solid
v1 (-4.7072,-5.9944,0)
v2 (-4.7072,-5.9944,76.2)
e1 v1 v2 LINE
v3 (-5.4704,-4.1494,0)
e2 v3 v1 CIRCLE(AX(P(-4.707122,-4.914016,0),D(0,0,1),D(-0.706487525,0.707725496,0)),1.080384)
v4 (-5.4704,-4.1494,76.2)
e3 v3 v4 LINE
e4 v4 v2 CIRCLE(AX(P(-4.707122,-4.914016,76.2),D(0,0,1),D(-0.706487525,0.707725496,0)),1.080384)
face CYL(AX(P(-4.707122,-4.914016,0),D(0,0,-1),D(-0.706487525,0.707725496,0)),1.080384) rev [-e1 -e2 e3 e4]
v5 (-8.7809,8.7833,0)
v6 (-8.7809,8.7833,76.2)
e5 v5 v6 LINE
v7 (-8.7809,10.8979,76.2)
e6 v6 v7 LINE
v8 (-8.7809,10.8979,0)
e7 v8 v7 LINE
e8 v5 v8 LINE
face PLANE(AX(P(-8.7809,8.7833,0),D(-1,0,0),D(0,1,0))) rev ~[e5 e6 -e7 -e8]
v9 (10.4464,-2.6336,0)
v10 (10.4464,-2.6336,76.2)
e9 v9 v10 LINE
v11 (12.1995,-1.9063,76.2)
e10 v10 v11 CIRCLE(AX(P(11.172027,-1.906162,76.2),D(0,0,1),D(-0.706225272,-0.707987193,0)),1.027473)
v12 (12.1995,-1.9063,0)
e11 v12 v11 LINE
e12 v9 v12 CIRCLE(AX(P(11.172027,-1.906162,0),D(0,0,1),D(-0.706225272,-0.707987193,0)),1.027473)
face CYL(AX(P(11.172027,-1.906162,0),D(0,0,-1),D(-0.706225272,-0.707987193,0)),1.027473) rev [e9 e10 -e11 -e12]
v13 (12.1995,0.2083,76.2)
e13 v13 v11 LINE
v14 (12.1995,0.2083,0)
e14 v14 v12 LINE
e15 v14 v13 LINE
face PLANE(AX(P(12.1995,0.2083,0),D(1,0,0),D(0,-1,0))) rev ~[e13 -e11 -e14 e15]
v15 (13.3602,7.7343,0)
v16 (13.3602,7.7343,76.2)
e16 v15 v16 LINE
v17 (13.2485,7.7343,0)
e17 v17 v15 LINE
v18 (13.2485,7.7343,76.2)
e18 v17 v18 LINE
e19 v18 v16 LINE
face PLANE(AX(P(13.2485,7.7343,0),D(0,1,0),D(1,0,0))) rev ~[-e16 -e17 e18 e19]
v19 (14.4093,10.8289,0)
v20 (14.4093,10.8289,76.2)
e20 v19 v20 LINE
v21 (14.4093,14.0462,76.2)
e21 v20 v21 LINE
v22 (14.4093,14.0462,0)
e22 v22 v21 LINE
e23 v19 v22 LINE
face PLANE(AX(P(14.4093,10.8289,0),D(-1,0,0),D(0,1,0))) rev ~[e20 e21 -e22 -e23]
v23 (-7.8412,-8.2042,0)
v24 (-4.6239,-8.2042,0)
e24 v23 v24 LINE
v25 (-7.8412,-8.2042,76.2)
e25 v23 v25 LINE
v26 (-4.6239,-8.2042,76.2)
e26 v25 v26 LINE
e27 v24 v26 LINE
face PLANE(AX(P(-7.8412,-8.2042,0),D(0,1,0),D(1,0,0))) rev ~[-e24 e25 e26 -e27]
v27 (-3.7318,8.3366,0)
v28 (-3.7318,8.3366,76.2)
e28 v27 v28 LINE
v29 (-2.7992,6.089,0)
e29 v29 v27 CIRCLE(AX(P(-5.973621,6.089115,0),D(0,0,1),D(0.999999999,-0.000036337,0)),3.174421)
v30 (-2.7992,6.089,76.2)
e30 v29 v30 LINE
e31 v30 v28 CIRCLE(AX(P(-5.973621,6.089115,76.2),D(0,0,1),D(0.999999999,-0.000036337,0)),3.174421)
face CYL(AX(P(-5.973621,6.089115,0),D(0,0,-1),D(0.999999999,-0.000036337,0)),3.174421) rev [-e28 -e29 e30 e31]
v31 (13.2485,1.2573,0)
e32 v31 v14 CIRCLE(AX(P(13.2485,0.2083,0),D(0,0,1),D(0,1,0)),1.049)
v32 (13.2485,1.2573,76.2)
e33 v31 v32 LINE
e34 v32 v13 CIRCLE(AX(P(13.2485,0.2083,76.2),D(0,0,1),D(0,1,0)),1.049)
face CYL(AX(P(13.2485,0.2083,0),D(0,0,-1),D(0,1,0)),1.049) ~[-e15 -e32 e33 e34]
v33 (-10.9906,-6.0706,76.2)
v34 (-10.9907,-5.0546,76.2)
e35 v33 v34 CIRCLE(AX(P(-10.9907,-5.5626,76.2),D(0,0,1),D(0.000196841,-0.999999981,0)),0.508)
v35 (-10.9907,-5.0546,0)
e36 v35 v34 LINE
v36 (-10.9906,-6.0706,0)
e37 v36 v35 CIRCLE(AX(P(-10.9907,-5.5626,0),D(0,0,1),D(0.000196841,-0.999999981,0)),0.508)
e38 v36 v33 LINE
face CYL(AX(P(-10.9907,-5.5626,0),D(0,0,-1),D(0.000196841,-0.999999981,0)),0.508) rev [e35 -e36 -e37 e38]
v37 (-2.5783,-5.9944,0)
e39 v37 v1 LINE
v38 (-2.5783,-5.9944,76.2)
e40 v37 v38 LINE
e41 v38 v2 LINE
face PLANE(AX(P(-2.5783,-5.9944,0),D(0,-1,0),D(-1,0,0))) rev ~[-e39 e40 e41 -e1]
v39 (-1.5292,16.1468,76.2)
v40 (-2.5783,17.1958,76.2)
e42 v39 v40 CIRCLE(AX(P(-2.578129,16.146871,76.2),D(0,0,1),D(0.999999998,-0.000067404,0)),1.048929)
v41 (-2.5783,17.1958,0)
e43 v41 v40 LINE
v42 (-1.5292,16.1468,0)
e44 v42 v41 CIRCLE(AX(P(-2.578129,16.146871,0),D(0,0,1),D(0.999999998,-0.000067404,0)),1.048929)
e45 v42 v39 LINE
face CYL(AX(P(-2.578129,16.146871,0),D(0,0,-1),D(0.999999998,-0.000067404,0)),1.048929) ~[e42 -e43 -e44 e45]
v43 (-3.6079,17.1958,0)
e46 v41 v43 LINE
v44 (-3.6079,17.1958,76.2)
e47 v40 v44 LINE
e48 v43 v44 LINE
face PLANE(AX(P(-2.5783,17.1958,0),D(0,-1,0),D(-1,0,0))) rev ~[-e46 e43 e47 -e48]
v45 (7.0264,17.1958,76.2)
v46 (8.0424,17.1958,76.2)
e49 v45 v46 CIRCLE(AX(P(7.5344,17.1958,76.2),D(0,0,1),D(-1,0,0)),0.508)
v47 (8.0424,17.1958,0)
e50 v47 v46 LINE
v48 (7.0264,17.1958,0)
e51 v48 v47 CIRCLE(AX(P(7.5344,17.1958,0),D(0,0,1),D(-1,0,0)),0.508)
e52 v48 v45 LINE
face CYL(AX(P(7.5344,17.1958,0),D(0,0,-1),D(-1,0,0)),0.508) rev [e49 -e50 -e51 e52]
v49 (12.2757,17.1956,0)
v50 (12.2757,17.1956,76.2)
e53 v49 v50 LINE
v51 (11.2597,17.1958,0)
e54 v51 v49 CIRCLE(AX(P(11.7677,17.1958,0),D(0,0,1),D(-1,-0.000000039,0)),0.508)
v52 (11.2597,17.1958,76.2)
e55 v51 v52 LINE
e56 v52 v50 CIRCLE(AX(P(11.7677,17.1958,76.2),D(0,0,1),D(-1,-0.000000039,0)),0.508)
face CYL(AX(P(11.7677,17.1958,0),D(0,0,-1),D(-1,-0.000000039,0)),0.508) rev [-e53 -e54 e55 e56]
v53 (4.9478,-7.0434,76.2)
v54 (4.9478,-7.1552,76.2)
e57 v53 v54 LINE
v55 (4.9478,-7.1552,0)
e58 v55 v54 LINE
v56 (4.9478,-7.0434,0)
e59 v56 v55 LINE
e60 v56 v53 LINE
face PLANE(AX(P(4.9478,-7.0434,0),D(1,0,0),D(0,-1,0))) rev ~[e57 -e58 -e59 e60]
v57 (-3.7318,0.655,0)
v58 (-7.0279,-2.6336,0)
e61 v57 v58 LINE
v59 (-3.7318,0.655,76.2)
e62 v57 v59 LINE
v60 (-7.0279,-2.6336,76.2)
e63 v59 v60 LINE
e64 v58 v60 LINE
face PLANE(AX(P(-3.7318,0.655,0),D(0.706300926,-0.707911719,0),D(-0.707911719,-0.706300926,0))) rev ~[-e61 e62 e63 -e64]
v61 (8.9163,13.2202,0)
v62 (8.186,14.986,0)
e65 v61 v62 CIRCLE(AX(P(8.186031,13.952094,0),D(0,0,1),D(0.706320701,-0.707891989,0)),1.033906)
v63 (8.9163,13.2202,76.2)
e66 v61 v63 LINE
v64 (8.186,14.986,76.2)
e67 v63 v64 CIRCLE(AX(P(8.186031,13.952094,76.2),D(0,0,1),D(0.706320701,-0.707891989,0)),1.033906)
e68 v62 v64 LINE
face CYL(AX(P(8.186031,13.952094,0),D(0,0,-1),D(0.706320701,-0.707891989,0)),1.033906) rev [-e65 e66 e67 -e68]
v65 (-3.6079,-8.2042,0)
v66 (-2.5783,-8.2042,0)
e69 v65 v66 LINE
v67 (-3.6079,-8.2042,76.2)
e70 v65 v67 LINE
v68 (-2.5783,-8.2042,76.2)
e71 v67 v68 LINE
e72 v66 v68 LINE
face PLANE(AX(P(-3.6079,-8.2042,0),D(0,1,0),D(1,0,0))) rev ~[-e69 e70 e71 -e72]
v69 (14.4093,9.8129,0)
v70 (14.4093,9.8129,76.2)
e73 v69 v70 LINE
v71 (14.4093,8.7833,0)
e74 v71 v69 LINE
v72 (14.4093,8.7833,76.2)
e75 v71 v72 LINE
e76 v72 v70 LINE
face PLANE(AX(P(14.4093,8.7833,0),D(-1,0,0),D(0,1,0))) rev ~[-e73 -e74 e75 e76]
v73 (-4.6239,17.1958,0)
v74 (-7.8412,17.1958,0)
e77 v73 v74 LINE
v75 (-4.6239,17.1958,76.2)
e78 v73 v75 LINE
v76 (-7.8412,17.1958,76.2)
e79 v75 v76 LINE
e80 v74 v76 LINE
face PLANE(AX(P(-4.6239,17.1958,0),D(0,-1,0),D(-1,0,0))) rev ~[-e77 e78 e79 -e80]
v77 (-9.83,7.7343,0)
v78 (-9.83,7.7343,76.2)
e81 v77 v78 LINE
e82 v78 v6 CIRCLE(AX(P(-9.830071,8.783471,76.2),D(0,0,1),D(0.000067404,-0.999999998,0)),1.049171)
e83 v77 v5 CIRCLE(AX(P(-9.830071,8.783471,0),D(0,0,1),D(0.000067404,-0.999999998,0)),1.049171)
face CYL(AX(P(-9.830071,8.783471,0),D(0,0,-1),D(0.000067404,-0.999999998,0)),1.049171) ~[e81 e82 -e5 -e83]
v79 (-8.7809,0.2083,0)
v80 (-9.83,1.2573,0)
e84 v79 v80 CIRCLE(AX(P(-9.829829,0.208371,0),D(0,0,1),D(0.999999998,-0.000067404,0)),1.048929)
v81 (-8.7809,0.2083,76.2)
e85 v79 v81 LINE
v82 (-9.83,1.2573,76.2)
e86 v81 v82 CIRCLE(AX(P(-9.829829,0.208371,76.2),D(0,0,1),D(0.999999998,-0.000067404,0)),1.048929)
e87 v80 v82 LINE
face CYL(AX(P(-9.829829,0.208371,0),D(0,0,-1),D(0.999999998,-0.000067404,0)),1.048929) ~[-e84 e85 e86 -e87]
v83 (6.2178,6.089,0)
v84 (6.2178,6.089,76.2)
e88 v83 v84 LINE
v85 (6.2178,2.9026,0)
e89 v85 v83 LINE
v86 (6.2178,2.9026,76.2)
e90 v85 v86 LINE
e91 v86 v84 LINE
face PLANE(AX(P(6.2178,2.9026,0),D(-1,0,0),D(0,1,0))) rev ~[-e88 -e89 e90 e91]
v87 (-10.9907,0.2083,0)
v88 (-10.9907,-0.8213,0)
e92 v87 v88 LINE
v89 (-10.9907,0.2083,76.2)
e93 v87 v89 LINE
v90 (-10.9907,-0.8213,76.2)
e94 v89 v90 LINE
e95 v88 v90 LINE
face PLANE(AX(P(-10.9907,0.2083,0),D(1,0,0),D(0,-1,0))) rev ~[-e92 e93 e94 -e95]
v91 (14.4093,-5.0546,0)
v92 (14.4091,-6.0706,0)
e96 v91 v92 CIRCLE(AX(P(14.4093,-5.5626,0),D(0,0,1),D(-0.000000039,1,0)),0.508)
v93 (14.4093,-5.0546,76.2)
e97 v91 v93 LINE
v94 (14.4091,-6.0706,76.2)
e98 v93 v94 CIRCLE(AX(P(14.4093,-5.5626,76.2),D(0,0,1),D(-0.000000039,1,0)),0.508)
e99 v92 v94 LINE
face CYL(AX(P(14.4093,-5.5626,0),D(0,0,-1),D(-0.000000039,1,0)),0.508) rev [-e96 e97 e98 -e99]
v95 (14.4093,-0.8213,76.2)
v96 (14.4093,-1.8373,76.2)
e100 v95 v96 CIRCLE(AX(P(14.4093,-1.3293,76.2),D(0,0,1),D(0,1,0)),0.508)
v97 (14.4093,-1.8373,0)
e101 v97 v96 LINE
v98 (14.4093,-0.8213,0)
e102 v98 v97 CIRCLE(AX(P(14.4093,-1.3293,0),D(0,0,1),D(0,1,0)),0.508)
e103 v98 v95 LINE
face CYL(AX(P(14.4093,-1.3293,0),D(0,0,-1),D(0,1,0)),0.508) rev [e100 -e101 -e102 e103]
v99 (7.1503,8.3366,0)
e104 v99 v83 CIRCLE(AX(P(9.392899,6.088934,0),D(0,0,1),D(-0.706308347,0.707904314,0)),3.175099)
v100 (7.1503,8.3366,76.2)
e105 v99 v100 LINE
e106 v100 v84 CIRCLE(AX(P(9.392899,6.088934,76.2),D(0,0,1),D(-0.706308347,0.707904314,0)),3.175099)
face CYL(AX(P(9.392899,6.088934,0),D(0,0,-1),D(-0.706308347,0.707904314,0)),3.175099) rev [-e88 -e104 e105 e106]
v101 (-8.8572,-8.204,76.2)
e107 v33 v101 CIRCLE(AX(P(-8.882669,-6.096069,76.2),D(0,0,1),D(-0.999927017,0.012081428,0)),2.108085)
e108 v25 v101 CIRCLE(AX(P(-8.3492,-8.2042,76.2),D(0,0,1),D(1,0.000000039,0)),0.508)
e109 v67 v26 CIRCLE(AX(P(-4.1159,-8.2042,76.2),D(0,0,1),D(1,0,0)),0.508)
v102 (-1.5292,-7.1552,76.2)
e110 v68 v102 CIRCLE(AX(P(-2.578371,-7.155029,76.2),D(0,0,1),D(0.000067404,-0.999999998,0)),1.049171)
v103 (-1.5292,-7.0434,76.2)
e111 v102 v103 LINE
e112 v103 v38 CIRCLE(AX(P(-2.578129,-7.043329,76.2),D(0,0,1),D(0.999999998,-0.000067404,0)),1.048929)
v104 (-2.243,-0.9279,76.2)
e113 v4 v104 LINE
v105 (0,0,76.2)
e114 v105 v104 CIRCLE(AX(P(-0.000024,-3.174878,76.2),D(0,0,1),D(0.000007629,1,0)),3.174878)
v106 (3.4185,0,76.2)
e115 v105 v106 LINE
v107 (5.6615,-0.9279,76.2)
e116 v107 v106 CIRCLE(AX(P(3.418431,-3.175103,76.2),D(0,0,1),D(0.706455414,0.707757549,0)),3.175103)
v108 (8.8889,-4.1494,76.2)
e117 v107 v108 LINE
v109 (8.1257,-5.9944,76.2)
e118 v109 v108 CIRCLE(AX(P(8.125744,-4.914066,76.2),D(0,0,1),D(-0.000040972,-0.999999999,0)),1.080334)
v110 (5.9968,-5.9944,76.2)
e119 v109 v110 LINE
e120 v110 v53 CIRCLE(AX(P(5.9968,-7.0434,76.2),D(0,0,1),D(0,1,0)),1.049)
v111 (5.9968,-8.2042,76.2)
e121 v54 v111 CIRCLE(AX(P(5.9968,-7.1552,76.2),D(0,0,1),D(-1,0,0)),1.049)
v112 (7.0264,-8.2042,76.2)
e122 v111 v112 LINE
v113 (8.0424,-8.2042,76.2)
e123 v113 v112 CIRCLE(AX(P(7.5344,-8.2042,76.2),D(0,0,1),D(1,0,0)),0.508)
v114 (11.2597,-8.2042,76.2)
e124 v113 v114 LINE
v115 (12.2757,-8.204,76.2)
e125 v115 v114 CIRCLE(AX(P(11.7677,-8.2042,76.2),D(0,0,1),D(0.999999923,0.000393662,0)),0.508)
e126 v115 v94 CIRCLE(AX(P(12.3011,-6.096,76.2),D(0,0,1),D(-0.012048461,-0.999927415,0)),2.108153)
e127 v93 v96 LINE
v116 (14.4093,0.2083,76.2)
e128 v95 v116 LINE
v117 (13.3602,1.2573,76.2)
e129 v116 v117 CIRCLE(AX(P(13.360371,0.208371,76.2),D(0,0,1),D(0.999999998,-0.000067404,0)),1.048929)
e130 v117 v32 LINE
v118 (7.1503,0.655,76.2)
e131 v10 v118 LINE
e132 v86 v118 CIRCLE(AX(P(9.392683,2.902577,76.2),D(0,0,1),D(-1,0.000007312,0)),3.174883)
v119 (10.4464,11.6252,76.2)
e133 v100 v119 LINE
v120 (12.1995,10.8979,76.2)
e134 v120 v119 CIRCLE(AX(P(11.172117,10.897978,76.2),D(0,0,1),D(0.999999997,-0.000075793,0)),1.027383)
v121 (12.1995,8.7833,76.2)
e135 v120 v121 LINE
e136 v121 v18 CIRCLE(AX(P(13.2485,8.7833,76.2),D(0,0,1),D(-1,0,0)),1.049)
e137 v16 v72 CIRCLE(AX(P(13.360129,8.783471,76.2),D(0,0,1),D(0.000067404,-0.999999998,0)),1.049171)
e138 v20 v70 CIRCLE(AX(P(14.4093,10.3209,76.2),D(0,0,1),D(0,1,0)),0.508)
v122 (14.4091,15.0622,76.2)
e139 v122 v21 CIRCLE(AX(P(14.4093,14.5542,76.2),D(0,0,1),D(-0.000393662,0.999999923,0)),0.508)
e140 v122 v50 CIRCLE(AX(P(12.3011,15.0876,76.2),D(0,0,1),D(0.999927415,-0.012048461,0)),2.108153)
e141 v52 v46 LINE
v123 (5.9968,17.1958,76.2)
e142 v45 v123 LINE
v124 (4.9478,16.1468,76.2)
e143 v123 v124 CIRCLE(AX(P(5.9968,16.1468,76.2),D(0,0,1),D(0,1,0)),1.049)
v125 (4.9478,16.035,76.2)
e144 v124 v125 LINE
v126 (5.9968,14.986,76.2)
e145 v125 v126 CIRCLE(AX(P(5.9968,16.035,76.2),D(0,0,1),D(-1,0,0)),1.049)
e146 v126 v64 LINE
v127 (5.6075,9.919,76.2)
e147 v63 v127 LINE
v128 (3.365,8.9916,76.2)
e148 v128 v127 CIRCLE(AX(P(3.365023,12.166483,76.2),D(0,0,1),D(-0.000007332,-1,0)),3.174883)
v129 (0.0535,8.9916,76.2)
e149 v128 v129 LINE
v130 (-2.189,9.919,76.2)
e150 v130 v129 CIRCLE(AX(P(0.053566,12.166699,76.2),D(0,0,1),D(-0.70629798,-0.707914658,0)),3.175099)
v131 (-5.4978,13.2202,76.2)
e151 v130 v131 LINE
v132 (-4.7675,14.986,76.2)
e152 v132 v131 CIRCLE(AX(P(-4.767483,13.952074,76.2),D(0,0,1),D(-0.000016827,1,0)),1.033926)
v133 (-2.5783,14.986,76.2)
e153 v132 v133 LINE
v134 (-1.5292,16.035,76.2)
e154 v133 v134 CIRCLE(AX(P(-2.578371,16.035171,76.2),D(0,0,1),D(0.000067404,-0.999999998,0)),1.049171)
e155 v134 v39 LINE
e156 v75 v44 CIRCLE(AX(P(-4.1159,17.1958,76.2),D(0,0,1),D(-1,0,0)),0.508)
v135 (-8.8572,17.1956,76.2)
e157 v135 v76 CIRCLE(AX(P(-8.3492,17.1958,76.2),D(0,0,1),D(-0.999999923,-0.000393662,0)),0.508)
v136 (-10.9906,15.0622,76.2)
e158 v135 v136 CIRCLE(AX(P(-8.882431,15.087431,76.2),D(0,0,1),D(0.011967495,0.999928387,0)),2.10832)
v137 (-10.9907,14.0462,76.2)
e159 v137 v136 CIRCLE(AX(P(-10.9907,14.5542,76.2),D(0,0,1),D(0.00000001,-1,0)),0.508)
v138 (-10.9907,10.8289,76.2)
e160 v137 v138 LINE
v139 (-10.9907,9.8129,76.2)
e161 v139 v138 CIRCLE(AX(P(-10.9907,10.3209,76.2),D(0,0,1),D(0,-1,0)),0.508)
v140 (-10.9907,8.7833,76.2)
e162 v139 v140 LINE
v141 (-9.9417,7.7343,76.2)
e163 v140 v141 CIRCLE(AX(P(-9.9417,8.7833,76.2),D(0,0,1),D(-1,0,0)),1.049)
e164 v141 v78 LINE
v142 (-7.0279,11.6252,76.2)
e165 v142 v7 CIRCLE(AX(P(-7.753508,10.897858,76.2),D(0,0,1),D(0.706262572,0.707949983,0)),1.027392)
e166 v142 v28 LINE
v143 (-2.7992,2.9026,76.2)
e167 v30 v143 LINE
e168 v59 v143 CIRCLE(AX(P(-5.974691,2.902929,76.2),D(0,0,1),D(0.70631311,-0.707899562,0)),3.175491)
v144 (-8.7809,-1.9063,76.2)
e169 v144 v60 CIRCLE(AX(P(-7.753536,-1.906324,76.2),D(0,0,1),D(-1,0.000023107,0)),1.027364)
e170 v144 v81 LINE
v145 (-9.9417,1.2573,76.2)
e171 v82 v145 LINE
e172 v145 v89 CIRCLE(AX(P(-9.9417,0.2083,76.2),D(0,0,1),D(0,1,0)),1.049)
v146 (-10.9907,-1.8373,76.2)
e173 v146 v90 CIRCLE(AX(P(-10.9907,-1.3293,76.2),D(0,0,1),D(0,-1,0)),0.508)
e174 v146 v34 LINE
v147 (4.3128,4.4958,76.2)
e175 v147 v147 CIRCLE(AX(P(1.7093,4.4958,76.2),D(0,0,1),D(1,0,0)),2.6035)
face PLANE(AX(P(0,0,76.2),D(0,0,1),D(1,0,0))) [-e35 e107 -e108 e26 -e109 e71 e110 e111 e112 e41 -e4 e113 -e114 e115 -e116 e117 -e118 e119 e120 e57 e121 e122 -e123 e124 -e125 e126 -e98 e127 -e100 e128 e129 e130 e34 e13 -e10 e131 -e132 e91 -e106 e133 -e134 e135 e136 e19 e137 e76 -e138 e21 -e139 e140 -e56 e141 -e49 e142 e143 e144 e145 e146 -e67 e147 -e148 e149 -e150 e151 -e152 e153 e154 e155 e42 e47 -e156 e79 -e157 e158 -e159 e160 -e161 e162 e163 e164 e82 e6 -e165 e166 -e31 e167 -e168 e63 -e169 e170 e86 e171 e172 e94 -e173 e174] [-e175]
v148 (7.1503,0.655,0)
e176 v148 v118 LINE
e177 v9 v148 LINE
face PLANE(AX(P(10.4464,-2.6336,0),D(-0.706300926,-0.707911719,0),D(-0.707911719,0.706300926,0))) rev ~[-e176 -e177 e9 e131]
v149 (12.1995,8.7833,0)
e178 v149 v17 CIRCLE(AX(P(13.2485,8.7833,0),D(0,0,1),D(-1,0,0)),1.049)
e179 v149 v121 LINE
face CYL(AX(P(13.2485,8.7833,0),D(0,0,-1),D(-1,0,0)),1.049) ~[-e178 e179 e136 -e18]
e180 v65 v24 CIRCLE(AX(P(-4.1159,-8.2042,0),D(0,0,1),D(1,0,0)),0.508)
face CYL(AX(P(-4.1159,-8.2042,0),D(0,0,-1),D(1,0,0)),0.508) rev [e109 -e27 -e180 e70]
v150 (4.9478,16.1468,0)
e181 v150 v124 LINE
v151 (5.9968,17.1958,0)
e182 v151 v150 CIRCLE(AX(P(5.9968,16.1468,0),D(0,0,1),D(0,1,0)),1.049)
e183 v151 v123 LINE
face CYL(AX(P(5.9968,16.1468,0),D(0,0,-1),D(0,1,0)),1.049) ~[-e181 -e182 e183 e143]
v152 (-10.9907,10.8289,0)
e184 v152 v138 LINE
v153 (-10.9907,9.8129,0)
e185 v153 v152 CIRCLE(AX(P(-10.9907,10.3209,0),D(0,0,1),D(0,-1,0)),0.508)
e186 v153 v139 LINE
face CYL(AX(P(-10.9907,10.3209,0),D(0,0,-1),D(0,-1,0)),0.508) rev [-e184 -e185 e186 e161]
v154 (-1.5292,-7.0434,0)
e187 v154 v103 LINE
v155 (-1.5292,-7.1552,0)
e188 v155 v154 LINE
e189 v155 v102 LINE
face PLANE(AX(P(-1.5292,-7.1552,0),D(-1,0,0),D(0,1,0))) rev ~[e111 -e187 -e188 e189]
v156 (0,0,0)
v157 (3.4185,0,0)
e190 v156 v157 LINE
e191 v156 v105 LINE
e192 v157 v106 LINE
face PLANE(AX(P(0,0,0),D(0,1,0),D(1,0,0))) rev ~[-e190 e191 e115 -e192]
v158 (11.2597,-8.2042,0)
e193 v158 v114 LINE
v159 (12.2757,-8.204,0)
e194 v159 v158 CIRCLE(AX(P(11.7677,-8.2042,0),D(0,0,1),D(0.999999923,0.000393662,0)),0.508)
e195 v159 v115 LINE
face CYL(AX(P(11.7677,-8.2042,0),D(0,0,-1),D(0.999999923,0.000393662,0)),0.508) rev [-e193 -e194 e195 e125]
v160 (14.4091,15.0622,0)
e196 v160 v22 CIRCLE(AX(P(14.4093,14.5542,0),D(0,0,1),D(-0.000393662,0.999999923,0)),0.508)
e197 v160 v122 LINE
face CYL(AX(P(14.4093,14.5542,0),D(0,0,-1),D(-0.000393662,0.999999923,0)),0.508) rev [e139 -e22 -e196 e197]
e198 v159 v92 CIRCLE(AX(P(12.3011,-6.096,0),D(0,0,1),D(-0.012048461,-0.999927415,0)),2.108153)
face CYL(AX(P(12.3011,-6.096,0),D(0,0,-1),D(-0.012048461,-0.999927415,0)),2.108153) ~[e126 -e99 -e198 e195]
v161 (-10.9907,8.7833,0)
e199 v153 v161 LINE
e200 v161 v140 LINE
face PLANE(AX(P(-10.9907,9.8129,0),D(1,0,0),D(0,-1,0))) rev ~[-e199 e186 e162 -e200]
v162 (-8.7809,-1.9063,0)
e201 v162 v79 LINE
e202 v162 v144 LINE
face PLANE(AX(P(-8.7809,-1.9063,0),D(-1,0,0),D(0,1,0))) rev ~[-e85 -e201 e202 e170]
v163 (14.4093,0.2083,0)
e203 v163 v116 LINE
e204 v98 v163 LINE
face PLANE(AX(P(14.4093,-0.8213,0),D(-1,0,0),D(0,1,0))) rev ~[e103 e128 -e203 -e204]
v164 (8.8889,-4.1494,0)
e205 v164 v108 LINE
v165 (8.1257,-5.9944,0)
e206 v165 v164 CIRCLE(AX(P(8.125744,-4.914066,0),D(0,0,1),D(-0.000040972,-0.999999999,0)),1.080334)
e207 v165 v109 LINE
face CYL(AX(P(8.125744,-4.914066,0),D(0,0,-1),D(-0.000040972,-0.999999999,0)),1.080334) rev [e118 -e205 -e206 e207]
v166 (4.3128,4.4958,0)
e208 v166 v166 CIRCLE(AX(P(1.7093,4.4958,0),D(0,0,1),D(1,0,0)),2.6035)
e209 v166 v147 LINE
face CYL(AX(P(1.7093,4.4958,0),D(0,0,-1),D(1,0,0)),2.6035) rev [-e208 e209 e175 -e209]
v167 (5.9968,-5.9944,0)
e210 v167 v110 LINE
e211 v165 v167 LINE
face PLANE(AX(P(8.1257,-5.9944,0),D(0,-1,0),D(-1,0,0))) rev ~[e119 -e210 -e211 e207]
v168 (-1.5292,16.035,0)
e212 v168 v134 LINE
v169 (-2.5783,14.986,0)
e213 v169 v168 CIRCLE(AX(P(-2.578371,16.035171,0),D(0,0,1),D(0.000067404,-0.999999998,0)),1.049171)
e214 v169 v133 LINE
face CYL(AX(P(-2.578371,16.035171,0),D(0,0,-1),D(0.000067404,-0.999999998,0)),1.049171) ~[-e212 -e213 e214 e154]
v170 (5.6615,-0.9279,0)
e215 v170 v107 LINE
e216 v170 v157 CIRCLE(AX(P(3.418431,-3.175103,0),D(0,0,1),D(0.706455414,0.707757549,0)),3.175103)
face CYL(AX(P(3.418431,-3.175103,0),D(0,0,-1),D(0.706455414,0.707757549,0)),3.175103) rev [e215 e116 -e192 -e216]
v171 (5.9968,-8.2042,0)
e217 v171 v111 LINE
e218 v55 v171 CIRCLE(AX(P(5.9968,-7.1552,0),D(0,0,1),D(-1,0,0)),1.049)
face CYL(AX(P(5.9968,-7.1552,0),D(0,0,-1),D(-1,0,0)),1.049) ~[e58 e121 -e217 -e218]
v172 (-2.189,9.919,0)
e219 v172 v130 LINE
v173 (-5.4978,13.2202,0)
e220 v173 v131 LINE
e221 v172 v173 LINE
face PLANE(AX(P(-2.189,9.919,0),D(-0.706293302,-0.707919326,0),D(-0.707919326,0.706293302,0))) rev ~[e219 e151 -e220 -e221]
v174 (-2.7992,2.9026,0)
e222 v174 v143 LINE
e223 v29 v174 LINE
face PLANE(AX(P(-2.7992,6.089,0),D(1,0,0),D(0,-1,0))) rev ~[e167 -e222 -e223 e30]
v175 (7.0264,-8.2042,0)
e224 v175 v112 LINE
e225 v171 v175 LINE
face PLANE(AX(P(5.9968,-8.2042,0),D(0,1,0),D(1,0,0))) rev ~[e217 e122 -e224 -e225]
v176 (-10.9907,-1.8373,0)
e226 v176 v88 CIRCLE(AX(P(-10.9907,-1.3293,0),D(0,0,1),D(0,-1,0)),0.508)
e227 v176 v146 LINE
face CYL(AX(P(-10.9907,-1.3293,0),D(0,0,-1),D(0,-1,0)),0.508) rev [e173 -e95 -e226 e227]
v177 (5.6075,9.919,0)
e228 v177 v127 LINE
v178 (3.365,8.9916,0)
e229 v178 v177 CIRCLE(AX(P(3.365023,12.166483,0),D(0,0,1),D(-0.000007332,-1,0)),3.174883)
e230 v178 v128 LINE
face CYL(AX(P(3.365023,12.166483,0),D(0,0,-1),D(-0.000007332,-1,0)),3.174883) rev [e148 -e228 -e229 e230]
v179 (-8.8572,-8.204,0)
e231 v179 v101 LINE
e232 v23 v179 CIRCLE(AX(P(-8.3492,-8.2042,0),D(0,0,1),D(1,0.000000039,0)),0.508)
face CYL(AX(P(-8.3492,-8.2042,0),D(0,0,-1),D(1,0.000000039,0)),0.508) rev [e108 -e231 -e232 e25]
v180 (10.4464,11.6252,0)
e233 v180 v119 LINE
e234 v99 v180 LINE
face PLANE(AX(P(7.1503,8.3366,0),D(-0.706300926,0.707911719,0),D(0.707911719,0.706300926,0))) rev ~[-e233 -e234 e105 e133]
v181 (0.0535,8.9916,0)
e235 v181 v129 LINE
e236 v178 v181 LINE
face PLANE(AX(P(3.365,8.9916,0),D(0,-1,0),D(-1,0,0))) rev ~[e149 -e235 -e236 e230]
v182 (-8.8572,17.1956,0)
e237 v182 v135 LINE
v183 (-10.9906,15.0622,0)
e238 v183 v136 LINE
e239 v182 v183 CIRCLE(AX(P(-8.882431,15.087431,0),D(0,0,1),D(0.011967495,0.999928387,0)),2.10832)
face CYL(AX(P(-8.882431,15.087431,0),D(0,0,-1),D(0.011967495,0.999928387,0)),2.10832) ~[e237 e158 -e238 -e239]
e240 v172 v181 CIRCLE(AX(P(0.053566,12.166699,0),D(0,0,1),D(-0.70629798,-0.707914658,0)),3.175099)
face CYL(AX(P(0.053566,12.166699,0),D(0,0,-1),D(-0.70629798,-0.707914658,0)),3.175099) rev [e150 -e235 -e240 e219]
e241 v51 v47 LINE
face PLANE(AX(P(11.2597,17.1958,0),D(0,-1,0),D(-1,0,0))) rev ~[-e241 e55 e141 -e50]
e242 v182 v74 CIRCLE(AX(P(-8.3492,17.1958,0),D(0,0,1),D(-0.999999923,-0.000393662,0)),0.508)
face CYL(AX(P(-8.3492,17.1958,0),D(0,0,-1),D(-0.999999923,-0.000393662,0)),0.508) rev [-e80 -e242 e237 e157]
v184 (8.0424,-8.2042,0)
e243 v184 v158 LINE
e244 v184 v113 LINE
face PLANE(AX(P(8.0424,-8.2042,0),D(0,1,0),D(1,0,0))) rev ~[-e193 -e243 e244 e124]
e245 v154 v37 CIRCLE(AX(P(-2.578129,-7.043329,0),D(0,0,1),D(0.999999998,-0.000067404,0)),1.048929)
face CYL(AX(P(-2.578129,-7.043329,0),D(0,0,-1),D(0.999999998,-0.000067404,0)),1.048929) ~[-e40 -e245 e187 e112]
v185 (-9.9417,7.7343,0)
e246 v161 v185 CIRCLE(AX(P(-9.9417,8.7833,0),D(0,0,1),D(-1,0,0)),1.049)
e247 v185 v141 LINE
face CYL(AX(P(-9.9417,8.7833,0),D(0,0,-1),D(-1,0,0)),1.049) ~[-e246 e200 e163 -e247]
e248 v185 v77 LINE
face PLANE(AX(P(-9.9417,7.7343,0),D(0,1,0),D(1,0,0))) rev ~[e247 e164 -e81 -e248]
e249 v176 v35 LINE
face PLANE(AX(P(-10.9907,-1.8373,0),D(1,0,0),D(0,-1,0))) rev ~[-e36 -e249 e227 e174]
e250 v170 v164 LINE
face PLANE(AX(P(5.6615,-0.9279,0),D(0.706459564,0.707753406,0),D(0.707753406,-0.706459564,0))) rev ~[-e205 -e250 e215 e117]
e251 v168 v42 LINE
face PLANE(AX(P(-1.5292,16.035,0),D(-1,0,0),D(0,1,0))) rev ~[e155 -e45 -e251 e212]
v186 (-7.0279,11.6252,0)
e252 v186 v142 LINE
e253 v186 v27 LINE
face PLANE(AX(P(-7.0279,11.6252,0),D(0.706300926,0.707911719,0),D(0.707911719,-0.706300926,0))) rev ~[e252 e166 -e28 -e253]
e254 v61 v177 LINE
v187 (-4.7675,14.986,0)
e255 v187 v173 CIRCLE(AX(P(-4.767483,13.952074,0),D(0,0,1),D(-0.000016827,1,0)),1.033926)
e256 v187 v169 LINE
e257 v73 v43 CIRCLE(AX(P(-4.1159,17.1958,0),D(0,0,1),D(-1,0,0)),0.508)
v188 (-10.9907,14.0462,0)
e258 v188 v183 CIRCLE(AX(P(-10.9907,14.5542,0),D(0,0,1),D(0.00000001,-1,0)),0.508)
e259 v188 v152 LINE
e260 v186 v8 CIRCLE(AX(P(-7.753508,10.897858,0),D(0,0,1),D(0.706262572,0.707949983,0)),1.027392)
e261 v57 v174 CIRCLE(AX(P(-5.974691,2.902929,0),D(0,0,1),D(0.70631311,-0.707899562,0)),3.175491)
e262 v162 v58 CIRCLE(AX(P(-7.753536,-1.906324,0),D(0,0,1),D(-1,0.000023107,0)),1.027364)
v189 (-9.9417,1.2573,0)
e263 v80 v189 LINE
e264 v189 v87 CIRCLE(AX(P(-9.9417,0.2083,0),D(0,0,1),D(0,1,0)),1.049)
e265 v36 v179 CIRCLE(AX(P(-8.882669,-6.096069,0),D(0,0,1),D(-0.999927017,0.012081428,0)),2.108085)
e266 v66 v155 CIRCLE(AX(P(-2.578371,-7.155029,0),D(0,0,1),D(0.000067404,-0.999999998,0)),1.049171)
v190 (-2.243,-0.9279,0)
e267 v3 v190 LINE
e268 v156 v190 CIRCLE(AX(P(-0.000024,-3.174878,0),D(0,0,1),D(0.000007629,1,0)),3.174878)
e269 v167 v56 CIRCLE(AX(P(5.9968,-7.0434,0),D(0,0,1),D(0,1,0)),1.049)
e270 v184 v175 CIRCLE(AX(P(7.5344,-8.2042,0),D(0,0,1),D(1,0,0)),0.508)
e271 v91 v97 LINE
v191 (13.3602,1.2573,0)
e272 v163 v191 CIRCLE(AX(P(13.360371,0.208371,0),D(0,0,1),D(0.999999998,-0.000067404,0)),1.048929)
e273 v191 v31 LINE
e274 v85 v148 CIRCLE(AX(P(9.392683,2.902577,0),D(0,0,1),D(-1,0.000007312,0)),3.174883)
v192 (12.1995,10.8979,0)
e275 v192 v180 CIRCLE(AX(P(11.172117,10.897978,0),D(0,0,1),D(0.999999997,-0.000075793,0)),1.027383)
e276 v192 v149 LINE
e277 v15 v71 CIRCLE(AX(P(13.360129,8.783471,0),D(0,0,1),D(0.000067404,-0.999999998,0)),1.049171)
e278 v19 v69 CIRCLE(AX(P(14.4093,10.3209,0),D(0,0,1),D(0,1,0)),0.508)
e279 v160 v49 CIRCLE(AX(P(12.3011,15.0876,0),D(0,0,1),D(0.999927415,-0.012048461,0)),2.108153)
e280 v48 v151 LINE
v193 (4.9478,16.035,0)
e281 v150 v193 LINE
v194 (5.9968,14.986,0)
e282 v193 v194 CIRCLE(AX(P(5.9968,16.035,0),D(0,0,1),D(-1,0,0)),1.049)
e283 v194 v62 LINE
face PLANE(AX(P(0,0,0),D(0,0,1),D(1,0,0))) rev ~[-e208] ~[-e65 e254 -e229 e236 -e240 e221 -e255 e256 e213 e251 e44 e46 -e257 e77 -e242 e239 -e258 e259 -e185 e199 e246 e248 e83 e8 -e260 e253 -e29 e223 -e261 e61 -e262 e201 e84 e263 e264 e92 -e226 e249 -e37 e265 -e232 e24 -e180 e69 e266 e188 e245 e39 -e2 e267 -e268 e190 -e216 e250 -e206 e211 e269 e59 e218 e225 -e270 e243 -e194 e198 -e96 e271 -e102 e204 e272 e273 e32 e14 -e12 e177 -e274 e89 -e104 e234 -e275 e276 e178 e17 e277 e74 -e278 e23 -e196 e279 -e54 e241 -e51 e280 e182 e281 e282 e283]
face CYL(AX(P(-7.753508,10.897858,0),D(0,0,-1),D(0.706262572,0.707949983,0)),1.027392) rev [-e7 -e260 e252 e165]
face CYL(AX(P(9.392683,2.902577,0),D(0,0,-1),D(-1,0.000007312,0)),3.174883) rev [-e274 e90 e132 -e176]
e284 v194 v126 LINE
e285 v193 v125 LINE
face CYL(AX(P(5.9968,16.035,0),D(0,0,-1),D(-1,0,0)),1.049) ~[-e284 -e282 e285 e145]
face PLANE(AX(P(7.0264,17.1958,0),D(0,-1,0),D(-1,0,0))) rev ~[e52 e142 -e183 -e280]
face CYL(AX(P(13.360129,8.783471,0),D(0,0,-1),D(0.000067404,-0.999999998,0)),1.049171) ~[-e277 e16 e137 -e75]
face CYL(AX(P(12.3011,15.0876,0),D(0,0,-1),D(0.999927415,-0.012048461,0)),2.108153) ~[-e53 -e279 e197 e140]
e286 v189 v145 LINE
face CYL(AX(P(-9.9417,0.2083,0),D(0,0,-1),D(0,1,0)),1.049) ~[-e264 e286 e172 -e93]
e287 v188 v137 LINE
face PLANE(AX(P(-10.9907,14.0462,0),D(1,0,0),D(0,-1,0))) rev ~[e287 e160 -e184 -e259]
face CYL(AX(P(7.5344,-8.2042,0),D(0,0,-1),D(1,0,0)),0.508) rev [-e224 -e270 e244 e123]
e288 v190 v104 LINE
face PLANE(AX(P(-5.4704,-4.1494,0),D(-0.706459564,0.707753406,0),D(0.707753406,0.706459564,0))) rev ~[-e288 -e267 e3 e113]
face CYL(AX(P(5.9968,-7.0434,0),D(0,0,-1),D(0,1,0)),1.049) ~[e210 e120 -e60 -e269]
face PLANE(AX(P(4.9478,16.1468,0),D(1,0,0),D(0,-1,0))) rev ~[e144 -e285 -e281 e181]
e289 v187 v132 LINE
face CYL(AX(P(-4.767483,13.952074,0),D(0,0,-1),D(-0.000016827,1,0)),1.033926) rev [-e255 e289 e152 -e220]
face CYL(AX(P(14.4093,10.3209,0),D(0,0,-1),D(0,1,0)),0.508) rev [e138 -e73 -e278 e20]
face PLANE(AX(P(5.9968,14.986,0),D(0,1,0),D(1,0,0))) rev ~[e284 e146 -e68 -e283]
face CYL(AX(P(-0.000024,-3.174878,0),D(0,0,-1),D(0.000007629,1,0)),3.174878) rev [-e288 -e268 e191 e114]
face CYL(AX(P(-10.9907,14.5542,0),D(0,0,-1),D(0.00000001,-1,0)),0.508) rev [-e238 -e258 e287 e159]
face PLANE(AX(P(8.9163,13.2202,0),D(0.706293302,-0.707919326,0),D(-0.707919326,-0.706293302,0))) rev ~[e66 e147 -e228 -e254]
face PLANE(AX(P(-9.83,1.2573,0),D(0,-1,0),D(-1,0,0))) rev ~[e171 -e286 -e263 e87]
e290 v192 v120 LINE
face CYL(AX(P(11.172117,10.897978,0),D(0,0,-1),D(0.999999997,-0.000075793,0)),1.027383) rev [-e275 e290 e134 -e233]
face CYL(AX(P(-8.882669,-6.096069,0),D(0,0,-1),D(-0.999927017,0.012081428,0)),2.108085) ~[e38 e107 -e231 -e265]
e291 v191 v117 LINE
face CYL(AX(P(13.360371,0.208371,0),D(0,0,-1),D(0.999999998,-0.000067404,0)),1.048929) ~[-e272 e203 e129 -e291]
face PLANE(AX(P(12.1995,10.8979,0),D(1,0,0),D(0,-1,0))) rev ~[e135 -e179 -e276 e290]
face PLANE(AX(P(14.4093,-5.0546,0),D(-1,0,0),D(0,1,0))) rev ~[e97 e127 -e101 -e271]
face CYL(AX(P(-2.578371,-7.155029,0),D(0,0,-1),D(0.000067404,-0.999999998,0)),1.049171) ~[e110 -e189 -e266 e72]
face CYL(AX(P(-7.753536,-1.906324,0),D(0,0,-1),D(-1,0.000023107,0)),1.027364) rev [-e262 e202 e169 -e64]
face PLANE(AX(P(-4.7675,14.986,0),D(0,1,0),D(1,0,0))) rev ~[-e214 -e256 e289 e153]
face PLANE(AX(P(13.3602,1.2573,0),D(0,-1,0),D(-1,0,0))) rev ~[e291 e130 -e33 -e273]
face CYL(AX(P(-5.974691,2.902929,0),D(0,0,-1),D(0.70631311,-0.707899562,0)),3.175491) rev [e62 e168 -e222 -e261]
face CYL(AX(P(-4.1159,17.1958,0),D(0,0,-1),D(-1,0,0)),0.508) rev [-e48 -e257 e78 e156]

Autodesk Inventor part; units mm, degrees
ref_plane "YZ Plane" through (0, 0, 0) normal (1, 0, 0) x (0, 1, 0)
ref_plane "XZ Plane" through (0, 0, 0) normal (0, 1, 0) x (-1, 0, 0)
ref_plane "XY Plane" through (0, 0, 0) normal (0, 0, 1) x (1, 0, 0)
sketch "Sketch1" plane through (0, 0, 0) normal (0, 0, 1) x (1, 0, 0)
  arc A0 (-5.4704, -4.1494) -> (-4.7072, -5.9944) centre (-4.7072, -4.914) ccw
  line L0 (-5.4704, -4.1494) -> (-2.243, -0.9279)
  arc A1 (0, 0) -> (-2.243, -0.9279) centre (0, -3.175) ccw
  line L1 (0, 0) -> (3.4185, 0)
  arc A2 (5.6615, -0.9279) -> (3.4185, 0) centre (3.4185, -3.175) ccw
  line L2 (5.6615, -0.9279) -> (8.8889, -4.1494)
  arc A3 (8.1257, -5.9944) -> (8.8889, -4.1494) centre (8.1257, -4.914) ccw
  line L3 (8.1257, -5.9944) -> (5.9968, -5.9944)
  arc A4 (5.9968, -5.9944) -> (4.9478, -7.0434) centre (5.9968, -7.0434) ccw
  line L4 (4.9478, -7.0434) -> (4.9478, -7.1552)
  arc A5 (4.9478, -7.1552) -> (5.9968, -8.2042) centre (5.9968, -7.1552) ccw
  line L5 (5.9968, -8.2042) -> (7.0264, -8.2042)
  arc A6 (8.0424, -8.2042) -> (7.0264, -8.2042) centre (7.5344, -8.2042) ccw
  line L6 (8.0424, -8.2042) -> (11.2597, -8.2042)
  arc A7 (12.2757, -8.204) -> (11.2597, -8.2042) centre (11.7677, -8.2042) ccw
  arc A8 (12.2757, -8.204) -> (14.4091, -6.0706) centre (12.3011, -6.096) ccw
  arc A9 (14.4093, -5.0546) -> (14.4091, -6.0706) centre (14.4093, -5.5626) ccw
  line L7 (14.4093, -5.0546) -> (14.4093, -1.8373)
  arc A10 (14.4093, -0.8213) -> (14.4093, -1.8373) centre (14.4093, -1.3293) ccw
  line L8 (14.4093, -0.8213) -> (14.4093, 0.2083)
  arc A11 (14.4093, 0.2083) -> (13.3602, 1.2573) centre (13.3602, 0.2083) ccw
  line L9 (13.3602, 1.2573) -> (13.2485, 1.2573)
  arc A12 (13.2485, 1.2573) -> (12.1995, 0.2083) centre (13.2485, 0.2083) ccw
  line L10 (12.1995, 0.2083) -> (12.1995, -1.9063)
  arc A13 (10.4464, -2.6336) -> (12.1995, -1.9063) centre (11.172, -1.9063) ccw
  line L11 (10.4464, -2.6336) -> (7.1503, 0.655)
  arc A14 (6.2178, 2.9026) -> (7.1503, 0.655) centre (9.3928, 2.9026) ccw
  line L12 (6.2178, 2.9026) -> (6.2178, 6.089)
  arc A15 (7.1503, 8.3366) -> (6.2178, 6.089) centre (9.3928, 6.089) ccw
  line L13 (7.1503, 8.3366) -> (10.4464, 11.6252)
  arc A16 (12.1995, 10.8979) -> (10.4464, 11.6252) centre (11.172, 10.8979) ccw
  line L14 (12.1995, 10.8979) -> (12.1995, 8.7833)
  arc A17 (12.1995, 8.7833) -> (13.2485, 7.7343) centre (13.2485, 8.7833) ccw
  line L15 (13.2485, 7.7343) -> (13.3602, 7.7343)
  arc A18 (13.3602, 7.7343) -> (14.4093, 8.7833) centre (13.3602, 8.7833) ccw
  line L16 (14.4093, 8.7833) -> (14.4093, 9.8129)
  arc A19 (14.4093, 10.8289) -> (14.4093, 9.8129) centre (14.4093, 10.3209) ccw
  line L17 (14.4093, 10.8289) -> (14.4093, 14.0462)
  arc A20 (14.4091, 15.0622) -> (14.4093, 14.0462) centre (14.4093, 14.5542) ccw
  arc A21 (14.4091, 15.0622) -> (12.2757, 17.1956) centre (12.3011, 15.0876) ccw
  arc A22 (11.2597, 17.1958) -> (12.2757, 17.1956) centre (11.7677, 17.1958) ccw
  line L18 (11.2597, 17.1958) -> (8.0424, 17.1958)
  arc A23 (7.0264, 17.1958) -> (8.0424, 17.1958) centre (7.5344, 17.1958) ccw
  line L19 (7.0264, 17.1958) -> (5.9968, 17.1958)
  arc A24 (5.9968, 17.1958) -> (4.9478, 16.1468) centre (5.9968, 16.1468) ccw
  line L20 (4.9478, 16.1468) -> (4.9478, 16.035)
  arc A25 (4.9478, 16.035) -> (5.9968, 14.986) centre (5.9968, 16.035) ccw
  line L21 (5.9968, 14.986) -> (8.186, 14.986)
  arc A26 (8.9163, 13.2202) -> (8.186, 14.986) centre (8.186, 13.9521) ccw
  line L22 (8.9163, 13.2202) -> (5.6075, 9.919)
  arc A27 (3.365, 8.9916) -> (5.6075, 9.919) centre (3.365, 12.1666) ccw
  line L23 (3.365, 8.9916) -> (0.0535, 8.9916)
  arc A28 (-2.189, 9.919) -> (0.0535, 8.9916) centre (0.0535, 12.1666) ccw
  line L24 (-2.189, 9.919) -> (-5.4978, 13.2202)
  arc A29 (-4.7675, 14.986) -> (-5.4978, 13.2202) centre (-4.7675, 13.9521) ccw
  line L25 (-4.7675, 14.986) -> (-2.5783, 14.986)
  arc A30 (-2.5783, 14.986) -> (-1.5292, 16.035) centre (-2.5783, 16.035) ccw
  line L26 (-1.5292, 16.035) -> (-1.5292, 16.1468)
  arc A31 (-1.5292, 16.1468) -> (-2.5783, 17.1958) centre (-2.5783, 16.1468) ccw
  line L27 (-2.5783, 17.1958) -> (-3.6079, 17.1958)
  arc A32 (-4.6239, 17.1958) -> (-3.6079, 17.1958) centre (-4.1159, 17.1958) ccw
  line L28 (-4.6239, 17.1958) -> (-7.8412, 17.1958)
  arc A33 (-8.8572, 17.1956) -> (-7.8412, 17.1958) centre (-8.3492, 17.1958) ccw
  arc A34 (-8.8572, 17.1956) -> (-10.9906, 15.0622) centre (-8.8825, 15.0876) ccw
  arc A35 (-10.9907, 14.0462) -> (-10.9906, 15.0622) centre (-10.9907, 14.5542) ccw
  line L29 (-10.9907, 14.0462) -> (-10.9907, 10.8289)
  arc A36 (-10.9907, 9.8129) -> (-10.9907, 10.8289) centre (-10.9907, 10.3209) ccw
  line L30 (-10.9907, 9.8129) -> (-10.9907, 8.7833)
  arc A37 (-10.9907, 8.7833) -> (-9.9417, 7.7343) centre (-9.9417, 8.7833) ccw
  line L31 (-9.9417, 7.7343) -> (-9.83, 7.7343)
  arc A38 (-9.83, 7.7343) -> (-8.7809, 8.7833) centre (-9.83, 8.7833) ccw
  line L32 (-8.7809, 8.7833) -> (-8.7809, 10.8979)
  arc A39 (-7.0279, 11.6252) -> (-8.7809, 10.8979) centre (-7.7535, 10.8979) ccw
  line L33 (-7.0279, 11.6252) -> (-3.7318, 8.3366)
  arc A40 (-2.7992, 6.089) -> (-3.7318, 8.3366) centre (-5.9742, 6.089) ccw
  line L34 (-2.7992, 6.089) -> (-2.7992, 2.9026)
  arc A41 (-3.7318, 0.655) -> (-2.7992, 2.9026) centre (-5.9742, 2.9026) ccw
  line L35 (-3.7318, 0.655) -> (-7.0279, -2.6336)
  arc A42 (-8.7809, -1.9063) -> (-7.0279, -2.6336) centre (-7.7535, -1.9063) ccw
  line L36 (-8.7809, -1.9063) -> (-8.7809, 0.2083)
  arc A43 (-8.7809, 0.2083) -> (-9.83, 1.2573) centre (-9.83, 0.2083) ccw
  line L37 (-9.83, 1.2573) -> (-9.9417, 1.2573)
  arc A44 (-9.9417, 1.2573) -> (-10.9907, 0.2083) centre (-9.9417, 0.2083) ccw
  line L38 (-10.9907, 0.2083) -> (-10.9907, -0.8213)
  arc A45 (-10.9907, -1.8373) -> (-10.9907, -0.8213) centre (-10.9907, -1.3293) ccw
  line L39 (-10.9907, -1.8373) -> (-10.9907, -5.0546)
  arc A46 (-10.9906, -6.0706) -> (-10.9907, -5.0546) centre (-10.9907, -5.5626) ccw
  arc A47 (-10.9906, -6.0706) -> (-8.8572, -8.204) centre (-8.8825, -6.096) ccw
  arc A48 (-7.8412, -8.2042) -> (-8.8572, -8.204) centre (-8.3492, -8.2042) ccw
  line L40 (-7.8412, -8.2042) -> (-4.6239, -8.2042)
  arc A49 (-3.6079, -8.2042) -> (-4.6239, -8.2042) centre (-4.1159, -8.2042) ccw
  line L41 (-3.6079, -8.2042) -> (-2.5783, -8.2042)
  arc A50 (-2.5783, -8.2042) -> (-1.5292, -7.1552) centre (-2.5783, -7.1552) ccw
  line L42 (-1.5292, -7.1552) -> (-1.5292, -7.0434)
  arc A51 (-1.5292, -7.0434) -> (-2.5783, -5.9944) centre (-2.5783, -7.0434) ccw
  line L43 (-2.5783, -5.9944) -> (-4.7072, -5.9944)
  circle A52 centre (1.7093, 4.4958) radius 2.6035
extrude "Extrusion1" add sketch "Sketch1" along normal blind 76.2
properties part number "3in 1x1 T slot" material "Steel, Alloy"
